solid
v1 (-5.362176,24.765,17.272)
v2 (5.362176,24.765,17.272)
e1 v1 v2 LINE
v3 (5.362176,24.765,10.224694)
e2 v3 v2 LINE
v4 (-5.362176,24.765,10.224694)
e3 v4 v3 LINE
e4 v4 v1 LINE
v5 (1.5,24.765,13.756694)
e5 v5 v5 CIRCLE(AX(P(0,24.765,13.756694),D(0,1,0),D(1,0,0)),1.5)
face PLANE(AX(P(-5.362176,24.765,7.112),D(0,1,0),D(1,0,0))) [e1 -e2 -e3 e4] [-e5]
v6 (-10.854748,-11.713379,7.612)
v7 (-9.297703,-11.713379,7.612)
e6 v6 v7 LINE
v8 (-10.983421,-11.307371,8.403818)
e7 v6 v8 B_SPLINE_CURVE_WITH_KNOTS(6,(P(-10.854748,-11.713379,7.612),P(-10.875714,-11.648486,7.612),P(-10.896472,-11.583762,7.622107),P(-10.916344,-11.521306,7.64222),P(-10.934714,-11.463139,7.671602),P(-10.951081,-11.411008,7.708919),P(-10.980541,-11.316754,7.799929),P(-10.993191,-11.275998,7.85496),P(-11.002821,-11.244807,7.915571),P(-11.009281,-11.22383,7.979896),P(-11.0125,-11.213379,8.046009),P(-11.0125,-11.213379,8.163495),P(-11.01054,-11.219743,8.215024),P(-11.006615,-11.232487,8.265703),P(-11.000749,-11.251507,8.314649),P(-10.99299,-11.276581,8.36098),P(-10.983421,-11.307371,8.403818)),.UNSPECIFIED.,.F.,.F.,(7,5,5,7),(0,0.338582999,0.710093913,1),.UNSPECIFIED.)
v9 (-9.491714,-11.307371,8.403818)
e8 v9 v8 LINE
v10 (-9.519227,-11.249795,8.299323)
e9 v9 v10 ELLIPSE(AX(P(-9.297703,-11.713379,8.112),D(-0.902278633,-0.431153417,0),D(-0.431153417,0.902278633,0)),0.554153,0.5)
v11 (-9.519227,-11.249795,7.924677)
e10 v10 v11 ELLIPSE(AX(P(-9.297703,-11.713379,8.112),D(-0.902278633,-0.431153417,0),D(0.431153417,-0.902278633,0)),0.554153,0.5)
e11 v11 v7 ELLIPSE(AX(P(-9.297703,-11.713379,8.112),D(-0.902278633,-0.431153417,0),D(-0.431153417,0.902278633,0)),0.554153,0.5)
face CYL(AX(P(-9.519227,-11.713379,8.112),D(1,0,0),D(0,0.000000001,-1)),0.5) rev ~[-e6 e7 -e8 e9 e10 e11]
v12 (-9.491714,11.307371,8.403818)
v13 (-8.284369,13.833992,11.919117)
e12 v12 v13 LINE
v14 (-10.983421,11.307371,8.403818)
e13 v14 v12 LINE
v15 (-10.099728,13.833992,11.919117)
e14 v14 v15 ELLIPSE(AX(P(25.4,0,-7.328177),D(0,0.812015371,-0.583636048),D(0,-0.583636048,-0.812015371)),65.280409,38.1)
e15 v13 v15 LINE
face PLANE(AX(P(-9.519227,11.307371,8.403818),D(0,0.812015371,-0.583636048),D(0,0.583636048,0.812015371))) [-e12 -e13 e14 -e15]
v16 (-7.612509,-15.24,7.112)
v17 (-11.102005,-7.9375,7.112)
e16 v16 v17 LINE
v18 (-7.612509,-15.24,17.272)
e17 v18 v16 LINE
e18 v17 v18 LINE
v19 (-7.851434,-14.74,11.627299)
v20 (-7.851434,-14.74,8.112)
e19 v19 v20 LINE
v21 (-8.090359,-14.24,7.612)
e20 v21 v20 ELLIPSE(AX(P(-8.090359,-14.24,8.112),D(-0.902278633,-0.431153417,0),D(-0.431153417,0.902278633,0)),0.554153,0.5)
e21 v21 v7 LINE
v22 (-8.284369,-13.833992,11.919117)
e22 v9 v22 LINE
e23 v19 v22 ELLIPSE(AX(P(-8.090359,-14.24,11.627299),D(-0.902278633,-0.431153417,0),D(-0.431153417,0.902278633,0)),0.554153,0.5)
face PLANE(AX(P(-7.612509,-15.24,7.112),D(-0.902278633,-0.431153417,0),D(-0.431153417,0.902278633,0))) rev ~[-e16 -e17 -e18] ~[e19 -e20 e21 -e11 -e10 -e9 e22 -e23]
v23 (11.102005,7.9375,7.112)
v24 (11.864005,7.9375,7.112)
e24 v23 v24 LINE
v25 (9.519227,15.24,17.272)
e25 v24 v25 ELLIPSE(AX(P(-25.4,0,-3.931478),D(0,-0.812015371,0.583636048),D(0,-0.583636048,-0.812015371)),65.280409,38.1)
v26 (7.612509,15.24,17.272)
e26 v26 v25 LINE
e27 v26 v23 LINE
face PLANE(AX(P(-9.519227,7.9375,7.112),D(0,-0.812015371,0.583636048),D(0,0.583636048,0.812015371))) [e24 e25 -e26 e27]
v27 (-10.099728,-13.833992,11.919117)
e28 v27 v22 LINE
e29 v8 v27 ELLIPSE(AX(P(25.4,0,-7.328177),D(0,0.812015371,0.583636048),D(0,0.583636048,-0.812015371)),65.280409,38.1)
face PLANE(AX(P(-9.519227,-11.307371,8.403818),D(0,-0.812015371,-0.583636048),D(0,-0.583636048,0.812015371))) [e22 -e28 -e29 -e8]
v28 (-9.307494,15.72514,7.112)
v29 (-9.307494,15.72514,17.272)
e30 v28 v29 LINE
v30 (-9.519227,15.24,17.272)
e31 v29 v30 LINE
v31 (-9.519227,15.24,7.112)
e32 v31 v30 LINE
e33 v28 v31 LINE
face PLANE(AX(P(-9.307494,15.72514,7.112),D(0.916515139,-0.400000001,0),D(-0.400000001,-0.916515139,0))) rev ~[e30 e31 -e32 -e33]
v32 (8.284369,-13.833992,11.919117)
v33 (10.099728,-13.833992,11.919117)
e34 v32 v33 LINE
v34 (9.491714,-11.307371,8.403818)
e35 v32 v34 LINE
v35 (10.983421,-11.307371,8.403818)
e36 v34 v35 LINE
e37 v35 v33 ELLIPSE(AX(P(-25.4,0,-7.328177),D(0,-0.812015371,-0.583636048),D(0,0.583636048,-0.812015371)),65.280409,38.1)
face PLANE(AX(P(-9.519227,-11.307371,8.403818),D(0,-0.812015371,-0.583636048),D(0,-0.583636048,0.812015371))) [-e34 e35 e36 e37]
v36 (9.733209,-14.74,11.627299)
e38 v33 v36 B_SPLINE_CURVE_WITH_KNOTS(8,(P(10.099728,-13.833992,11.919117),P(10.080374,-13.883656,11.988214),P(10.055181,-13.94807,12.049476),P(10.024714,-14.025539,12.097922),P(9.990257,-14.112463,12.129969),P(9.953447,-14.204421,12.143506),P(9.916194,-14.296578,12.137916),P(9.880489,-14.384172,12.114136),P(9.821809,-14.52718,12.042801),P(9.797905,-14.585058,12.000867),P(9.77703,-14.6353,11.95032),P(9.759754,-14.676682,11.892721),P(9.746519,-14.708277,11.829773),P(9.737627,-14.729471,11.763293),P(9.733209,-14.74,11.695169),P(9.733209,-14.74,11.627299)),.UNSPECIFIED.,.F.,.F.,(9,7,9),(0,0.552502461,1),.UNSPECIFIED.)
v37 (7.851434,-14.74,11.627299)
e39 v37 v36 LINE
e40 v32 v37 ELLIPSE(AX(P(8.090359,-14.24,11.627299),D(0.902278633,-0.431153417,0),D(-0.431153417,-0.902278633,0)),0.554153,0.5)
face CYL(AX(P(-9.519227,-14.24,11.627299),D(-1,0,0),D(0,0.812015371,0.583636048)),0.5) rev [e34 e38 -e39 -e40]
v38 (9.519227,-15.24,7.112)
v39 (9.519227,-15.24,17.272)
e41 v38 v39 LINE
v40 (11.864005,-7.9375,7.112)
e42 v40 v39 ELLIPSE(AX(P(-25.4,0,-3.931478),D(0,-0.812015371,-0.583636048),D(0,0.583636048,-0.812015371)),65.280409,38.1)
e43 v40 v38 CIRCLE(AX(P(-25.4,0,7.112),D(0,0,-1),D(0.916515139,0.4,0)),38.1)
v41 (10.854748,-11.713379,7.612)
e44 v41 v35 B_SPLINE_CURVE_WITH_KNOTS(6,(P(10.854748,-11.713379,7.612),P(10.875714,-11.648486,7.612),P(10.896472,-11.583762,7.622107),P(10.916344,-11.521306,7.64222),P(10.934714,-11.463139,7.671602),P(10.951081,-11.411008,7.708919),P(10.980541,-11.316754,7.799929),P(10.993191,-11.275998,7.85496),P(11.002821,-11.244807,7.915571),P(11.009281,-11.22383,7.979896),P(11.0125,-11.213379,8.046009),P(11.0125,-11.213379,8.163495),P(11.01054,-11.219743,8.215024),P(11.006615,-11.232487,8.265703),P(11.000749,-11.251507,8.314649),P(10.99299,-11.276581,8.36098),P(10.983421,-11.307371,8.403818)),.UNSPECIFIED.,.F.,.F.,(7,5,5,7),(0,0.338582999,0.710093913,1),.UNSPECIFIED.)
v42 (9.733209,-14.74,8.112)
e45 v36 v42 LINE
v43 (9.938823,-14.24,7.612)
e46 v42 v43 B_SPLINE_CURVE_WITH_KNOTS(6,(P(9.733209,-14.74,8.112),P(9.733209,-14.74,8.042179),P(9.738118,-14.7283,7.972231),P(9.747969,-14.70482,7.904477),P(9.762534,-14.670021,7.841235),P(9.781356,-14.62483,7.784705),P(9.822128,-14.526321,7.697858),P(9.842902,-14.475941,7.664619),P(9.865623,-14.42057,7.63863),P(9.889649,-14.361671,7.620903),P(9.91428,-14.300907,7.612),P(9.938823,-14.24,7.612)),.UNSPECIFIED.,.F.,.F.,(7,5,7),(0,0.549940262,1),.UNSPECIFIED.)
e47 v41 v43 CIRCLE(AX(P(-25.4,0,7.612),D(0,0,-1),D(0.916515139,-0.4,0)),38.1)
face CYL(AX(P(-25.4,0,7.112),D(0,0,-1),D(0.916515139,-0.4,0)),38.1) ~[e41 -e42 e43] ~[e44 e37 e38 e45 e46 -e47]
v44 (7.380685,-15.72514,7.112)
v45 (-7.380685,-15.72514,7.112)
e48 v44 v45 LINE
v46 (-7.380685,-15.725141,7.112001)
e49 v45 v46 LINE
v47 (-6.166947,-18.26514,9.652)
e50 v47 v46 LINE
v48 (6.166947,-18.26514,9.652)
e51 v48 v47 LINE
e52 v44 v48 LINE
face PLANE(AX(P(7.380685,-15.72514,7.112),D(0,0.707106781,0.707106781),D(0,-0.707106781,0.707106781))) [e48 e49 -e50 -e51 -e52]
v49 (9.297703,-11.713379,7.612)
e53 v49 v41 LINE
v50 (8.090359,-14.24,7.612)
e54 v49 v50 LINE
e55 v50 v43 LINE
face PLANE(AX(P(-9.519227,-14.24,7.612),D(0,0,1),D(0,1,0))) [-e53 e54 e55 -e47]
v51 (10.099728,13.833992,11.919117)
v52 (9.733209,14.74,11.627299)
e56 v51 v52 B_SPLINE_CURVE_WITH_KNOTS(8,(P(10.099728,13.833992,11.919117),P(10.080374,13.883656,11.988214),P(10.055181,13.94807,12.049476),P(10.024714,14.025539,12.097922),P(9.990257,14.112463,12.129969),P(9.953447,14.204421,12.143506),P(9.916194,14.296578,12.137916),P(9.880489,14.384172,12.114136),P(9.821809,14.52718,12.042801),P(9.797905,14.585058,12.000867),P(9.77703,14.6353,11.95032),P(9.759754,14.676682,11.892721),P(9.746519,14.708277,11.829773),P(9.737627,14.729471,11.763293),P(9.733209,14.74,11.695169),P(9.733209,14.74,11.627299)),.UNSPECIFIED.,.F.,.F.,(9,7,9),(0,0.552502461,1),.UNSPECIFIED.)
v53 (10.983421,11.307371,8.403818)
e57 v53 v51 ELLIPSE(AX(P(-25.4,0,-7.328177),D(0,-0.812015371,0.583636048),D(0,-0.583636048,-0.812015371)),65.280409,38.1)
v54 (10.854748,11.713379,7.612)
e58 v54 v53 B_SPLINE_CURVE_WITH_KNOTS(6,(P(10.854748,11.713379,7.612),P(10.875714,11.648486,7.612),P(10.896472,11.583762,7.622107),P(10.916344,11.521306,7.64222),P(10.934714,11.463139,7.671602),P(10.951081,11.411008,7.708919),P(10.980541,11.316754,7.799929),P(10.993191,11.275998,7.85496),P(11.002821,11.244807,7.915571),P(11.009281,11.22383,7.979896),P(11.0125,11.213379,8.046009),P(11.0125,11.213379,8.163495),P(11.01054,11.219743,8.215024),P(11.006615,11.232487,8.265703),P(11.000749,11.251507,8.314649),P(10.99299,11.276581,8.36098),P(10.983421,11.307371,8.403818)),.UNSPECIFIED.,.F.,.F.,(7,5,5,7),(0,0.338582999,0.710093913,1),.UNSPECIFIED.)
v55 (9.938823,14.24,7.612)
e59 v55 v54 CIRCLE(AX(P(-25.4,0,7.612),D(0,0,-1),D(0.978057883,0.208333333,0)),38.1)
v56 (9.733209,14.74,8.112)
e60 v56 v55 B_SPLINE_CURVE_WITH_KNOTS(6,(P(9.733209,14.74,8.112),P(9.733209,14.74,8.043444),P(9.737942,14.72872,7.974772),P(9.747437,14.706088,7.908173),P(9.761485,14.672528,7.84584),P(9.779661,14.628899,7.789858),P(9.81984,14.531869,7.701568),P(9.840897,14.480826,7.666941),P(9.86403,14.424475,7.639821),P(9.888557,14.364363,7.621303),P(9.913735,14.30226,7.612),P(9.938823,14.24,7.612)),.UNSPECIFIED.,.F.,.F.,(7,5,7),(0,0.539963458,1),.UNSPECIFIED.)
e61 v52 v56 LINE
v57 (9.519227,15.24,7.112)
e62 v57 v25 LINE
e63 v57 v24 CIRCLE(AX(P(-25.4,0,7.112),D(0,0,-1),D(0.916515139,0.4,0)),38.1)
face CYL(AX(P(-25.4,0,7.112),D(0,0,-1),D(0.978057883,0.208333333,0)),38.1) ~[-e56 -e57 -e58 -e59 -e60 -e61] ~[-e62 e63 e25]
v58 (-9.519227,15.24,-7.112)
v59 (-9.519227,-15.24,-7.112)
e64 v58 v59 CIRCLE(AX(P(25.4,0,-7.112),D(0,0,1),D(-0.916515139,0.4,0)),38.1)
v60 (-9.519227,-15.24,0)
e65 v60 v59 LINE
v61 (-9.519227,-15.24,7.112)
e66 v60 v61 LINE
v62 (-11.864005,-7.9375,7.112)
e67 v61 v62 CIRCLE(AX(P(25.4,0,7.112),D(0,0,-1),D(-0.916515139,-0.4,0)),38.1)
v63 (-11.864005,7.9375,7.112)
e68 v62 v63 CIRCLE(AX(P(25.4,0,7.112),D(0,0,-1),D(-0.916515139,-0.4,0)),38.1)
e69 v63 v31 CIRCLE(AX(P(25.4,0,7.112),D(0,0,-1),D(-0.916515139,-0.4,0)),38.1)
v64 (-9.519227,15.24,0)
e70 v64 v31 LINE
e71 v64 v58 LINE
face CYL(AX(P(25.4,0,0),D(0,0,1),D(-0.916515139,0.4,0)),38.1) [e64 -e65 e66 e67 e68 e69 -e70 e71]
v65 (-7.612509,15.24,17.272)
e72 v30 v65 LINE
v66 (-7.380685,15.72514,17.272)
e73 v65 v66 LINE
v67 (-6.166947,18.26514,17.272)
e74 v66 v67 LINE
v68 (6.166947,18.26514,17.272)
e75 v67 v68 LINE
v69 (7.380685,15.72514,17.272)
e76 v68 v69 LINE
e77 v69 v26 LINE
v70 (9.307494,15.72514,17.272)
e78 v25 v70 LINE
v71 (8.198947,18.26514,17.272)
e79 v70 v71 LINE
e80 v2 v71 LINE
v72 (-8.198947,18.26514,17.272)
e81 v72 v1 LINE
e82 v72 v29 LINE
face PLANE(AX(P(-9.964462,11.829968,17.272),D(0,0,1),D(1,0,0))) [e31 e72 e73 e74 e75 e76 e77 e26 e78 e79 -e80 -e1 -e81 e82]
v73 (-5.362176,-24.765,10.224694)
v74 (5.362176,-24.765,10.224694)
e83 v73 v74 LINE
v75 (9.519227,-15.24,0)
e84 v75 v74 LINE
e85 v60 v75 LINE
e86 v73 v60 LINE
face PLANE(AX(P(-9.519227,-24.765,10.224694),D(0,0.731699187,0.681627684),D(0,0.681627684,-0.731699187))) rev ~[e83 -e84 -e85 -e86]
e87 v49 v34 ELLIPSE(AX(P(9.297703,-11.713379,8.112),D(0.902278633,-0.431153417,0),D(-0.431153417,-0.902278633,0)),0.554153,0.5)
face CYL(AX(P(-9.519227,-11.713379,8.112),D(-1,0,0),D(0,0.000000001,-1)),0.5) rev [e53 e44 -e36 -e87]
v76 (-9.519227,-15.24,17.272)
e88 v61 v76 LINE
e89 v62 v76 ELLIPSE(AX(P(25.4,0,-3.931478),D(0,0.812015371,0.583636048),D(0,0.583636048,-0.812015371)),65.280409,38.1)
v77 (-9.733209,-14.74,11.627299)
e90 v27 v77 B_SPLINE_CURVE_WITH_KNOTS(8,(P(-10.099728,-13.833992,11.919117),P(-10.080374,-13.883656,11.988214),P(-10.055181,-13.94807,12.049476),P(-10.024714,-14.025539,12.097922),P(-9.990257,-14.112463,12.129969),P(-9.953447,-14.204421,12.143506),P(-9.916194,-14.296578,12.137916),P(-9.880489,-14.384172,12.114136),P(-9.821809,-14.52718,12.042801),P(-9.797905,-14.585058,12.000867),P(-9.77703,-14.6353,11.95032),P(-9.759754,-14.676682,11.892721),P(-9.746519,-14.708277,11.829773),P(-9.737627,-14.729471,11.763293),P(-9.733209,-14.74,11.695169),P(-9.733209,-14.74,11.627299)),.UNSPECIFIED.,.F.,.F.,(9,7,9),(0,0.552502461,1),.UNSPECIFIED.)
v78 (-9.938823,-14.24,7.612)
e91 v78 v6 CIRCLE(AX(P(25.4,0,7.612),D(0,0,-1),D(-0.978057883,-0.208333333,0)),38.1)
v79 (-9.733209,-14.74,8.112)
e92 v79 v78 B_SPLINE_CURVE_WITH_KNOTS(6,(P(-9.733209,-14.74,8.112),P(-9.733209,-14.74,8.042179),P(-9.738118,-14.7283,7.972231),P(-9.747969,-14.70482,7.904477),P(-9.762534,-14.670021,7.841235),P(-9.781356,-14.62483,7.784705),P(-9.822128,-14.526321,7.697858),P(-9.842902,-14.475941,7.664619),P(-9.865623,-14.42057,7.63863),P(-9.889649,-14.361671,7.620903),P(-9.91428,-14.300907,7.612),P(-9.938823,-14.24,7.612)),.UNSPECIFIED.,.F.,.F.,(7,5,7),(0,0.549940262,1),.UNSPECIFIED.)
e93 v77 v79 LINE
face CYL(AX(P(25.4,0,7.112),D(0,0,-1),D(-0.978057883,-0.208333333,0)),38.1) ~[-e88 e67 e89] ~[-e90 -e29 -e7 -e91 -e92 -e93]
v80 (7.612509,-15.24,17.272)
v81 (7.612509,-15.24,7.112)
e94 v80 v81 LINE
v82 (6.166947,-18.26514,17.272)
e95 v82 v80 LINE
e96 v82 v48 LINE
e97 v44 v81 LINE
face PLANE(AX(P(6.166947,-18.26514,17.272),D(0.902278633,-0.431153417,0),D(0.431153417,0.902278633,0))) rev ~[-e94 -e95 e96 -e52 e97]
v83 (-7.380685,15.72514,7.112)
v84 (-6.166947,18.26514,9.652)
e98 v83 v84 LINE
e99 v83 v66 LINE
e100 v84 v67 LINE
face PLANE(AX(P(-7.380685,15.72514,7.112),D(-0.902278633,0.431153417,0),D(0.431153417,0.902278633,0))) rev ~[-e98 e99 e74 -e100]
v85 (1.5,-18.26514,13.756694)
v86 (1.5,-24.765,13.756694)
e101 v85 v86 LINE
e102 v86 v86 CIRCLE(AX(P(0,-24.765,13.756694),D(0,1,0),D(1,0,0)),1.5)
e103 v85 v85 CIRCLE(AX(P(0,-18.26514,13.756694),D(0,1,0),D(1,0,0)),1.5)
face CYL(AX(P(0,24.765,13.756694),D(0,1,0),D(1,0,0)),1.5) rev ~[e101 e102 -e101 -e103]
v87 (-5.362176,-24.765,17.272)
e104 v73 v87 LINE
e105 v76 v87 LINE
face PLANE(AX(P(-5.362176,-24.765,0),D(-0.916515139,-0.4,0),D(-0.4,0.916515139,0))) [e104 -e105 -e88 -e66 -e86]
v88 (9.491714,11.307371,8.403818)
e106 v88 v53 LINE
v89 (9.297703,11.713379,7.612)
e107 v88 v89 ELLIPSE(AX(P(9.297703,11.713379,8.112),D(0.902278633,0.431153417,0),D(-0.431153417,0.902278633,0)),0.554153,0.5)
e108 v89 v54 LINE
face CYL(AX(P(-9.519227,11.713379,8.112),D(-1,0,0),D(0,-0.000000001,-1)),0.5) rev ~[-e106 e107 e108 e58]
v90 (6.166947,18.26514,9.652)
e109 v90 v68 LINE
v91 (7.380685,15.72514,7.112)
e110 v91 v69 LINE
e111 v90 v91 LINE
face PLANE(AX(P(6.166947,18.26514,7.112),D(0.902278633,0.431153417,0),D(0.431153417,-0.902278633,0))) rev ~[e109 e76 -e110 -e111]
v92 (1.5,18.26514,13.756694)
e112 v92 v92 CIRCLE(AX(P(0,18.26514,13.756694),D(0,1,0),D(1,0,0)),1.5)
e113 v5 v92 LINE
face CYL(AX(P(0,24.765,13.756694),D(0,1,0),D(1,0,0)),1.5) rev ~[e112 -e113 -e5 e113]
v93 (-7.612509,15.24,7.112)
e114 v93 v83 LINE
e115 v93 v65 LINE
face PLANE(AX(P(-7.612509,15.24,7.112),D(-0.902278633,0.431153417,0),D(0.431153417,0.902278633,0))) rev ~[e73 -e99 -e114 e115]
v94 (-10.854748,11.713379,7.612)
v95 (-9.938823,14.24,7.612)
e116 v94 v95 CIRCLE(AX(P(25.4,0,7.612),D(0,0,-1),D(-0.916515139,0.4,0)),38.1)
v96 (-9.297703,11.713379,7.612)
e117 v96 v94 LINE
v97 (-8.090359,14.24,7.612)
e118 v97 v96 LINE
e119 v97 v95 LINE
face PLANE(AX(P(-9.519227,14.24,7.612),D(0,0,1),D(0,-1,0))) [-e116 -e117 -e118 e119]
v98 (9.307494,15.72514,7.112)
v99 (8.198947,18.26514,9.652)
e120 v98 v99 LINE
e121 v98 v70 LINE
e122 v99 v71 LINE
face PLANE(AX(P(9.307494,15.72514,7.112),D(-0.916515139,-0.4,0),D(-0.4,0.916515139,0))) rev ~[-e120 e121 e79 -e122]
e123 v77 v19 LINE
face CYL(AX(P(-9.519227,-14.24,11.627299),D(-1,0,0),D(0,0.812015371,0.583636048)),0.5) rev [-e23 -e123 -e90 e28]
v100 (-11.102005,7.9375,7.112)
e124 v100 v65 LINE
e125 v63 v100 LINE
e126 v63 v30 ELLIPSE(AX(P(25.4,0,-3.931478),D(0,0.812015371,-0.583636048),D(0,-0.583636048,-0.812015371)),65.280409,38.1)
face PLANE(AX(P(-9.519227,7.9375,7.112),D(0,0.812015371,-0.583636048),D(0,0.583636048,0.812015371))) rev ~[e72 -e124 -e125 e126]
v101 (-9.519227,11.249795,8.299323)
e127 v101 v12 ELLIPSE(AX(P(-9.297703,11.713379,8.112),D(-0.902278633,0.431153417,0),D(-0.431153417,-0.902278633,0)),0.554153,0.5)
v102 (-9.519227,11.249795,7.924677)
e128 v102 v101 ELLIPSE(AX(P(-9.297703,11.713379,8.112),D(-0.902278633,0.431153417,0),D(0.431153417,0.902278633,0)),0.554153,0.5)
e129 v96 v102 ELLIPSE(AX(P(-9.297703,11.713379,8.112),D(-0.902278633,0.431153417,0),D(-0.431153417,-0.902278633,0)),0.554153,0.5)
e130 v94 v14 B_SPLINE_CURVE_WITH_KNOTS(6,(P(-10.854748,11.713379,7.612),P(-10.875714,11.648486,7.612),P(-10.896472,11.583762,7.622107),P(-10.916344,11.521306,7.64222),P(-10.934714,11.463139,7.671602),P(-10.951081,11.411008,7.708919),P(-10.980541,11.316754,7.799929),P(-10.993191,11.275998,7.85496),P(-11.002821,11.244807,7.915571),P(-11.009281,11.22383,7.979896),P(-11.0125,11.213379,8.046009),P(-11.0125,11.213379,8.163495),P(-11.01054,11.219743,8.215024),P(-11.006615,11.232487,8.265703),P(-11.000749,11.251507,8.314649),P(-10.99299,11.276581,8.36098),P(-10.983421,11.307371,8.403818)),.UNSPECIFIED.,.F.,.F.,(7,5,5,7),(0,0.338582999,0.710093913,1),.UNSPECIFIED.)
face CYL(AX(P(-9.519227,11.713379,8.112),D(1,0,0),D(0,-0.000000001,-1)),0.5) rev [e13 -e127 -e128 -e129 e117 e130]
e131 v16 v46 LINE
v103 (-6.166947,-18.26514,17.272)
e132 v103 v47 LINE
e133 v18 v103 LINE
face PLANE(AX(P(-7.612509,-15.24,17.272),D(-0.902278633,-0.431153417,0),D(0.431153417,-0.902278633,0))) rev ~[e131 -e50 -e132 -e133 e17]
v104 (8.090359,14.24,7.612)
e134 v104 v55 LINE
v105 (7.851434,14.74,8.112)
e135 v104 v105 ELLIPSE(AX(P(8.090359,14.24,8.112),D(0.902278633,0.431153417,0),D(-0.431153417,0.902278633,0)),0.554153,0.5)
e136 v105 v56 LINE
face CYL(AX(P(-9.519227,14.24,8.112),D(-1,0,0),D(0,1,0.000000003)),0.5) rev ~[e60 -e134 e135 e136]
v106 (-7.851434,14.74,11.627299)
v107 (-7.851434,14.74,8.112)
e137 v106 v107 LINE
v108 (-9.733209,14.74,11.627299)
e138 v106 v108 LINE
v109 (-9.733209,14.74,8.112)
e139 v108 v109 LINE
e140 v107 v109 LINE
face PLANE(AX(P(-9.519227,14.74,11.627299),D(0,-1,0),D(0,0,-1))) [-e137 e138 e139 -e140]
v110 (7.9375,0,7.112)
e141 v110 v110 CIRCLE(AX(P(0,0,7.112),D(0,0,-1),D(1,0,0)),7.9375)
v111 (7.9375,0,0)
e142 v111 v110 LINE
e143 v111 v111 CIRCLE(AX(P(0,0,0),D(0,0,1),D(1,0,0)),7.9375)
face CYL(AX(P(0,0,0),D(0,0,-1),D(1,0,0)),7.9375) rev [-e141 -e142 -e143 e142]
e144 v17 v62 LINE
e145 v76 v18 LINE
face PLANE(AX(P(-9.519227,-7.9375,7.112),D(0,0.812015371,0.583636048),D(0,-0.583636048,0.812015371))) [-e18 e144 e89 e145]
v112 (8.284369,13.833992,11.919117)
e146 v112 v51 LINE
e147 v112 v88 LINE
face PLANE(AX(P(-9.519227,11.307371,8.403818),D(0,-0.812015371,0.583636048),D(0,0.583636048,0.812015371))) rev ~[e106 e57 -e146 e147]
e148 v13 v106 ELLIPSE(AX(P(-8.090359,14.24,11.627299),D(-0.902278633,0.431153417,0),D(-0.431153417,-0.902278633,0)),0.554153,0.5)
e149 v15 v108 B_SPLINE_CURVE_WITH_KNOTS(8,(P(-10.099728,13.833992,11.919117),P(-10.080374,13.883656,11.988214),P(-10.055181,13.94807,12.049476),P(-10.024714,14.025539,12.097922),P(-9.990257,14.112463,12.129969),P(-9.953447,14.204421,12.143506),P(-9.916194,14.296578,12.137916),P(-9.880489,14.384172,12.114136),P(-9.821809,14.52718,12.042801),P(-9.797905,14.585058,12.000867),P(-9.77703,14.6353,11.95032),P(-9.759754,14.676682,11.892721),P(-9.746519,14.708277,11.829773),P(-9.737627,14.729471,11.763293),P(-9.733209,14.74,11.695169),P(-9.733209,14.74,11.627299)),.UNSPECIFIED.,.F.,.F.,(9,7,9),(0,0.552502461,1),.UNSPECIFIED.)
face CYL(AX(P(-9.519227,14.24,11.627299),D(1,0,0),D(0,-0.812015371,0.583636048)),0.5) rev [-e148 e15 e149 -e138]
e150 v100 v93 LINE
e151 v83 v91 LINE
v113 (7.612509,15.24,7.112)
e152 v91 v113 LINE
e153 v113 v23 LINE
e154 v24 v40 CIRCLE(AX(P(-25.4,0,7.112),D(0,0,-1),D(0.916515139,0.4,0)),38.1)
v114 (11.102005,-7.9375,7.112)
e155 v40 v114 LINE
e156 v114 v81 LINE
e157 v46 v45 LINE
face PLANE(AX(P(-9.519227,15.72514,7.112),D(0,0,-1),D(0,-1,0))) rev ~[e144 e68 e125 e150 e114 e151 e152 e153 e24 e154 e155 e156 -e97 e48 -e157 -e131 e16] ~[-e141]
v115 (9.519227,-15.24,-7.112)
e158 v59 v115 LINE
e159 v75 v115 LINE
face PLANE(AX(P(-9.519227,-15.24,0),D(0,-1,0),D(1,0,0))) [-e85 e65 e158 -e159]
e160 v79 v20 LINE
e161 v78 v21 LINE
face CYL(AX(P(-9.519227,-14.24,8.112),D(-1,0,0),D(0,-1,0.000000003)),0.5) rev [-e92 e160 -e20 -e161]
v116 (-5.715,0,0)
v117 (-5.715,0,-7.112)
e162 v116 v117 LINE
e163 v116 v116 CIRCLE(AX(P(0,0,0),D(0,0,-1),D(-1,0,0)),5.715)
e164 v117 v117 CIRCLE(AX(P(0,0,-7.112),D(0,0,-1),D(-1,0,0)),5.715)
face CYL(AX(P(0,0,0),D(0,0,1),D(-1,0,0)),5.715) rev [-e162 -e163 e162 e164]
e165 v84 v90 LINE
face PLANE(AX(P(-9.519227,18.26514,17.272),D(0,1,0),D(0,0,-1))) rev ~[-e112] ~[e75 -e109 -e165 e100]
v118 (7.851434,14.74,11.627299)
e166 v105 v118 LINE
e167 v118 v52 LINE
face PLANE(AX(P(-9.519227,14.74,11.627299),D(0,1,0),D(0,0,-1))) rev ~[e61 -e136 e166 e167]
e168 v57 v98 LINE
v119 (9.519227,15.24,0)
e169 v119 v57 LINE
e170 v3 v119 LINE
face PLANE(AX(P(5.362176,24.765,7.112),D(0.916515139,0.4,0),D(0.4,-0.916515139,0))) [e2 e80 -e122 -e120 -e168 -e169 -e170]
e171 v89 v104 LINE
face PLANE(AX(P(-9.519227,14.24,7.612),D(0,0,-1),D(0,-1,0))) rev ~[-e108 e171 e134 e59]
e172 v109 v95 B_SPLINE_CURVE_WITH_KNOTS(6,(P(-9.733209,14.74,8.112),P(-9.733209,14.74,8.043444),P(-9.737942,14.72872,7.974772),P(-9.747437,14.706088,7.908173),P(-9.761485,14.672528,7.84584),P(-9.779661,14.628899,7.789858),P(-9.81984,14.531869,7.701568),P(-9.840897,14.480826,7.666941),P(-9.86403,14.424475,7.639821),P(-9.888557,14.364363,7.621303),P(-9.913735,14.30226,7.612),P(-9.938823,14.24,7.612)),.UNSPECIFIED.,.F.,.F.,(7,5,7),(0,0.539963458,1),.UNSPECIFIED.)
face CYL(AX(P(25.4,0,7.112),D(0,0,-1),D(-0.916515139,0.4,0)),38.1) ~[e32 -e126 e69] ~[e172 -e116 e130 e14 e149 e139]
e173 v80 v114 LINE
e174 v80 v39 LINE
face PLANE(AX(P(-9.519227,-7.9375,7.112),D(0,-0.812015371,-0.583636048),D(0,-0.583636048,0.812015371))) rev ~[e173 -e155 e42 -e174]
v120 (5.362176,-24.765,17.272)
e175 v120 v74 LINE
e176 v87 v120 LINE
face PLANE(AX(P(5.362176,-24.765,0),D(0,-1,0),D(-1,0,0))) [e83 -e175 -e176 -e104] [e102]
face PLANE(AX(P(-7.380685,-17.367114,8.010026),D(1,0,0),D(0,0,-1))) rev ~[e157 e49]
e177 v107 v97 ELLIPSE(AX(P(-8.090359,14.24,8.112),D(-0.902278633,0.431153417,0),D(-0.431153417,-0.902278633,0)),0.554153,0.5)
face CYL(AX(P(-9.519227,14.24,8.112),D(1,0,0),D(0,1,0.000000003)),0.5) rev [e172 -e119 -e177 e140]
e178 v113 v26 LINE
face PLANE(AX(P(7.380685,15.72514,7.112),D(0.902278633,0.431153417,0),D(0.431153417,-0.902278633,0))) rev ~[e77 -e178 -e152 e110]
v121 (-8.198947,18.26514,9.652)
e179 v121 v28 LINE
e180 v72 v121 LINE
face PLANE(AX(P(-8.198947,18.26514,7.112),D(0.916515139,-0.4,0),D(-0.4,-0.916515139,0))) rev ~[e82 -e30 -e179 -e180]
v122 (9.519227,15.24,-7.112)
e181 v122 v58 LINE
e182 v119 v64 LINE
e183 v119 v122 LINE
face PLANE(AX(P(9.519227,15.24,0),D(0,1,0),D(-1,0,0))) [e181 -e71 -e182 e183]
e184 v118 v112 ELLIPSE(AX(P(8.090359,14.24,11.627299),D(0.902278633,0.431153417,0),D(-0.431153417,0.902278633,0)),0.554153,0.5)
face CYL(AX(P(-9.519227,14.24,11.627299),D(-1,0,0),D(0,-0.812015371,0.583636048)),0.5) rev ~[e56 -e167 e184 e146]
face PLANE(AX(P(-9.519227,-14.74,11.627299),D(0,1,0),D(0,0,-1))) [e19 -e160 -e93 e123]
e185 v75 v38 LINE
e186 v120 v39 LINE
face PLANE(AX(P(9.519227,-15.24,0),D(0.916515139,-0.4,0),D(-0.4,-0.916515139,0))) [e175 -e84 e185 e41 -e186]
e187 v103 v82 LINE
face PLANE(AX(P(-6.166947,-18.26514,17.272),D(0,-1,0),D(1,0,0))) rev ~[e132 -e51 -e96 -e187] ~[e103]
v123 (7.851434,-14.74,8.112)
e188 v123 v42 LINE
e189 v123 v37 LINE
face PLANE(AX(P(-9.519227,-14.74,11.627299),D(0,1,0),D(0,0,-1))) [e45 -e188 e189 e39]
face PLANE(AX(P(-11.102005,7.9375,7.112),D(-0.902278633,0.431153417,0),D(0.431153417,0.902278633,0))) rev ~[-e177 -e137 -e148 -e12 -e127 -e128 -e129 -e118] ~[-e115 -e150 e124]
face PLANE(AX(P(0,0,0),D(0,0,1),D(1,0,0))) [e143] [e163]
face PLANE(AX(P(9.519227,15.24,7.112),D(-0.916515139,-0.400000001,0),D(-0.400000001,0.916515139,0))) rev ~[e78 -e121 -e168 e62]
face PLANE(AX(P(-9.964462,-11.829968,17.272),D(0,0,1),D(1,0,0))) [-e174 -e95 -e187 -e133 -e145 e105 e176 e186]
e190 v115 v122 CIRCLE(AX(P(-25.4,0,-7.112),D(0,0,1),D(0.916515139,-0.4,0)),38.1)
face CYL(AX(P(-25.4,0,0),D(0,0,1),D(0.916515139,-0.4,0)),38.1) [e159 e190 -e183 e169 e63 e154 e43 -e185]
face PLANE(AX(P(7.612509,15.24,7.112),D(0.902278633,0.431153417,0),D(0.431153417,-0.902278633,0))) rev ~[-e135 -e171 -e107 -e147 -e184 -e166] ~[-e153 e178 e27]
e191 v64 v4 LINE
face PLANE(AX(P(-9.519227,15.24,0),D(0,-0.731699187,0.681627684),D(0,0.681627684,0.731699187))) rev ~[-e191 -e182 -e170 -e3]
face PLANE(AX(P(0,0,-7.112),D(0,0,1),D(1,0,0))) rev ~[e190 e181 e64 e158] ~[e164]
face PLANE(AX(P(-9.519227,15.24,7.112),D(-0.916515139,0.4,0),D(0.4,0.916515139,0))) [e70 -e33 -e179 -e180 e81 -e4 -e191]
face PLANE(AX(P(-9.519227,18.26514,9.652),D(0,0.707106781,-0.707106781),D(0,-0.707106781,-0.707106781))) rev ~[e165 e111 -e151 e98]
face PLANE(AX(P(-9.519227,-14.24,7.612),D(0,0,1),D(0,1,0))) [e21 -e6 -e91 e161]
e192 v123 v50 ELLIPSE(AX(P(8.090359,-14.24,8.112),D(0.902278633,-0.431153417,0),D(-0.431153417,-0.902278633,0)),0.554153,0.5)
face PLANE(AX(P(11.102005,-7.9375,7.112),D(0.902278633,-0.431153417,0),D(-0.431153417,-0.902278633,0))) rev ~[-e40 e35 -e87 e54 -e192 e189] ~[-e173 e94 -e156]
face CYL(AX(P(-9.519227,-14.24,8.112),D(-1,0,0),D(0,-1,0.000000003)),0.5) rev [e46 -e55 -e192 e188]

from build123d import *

# Parameters (mm, degrees)
SKETCH1_R               = 7.9375
BOSS_EXTRUDE1_DEPTH     = 7.112
SKETCH2_R               = 5.715
BOSS_EXTRUDE2_DEPTH     = 7.112
BOSS_EXTRUDE3_DEPTH     = 10.16
SKETCH4_R               = 1.5
CUT_EXTRUDE1_DEPTH      = 50.53
CUT_EXTRUDE2_DEPTH      = 23.219226796
BOSS_EXTRUDE5_DEPTH     = 10.16
CUT_EXTRUDE3_DEPTH      = 4.180773204
CUT_EXTRUDE3_DEPTH_BACK = 23.219226796
CUT_EXTRUDE5_DEPTH      = 23.219226896
CUT_EXTRUDE6_DEPTH      = 10.16
BOSS_EXTRUDE6_DEPTH     = 10.16
CUT_EXTRUDE7_DEPTH      = 4.180773304
CUT_EXTRUDE7_DEPTH_BACK = 23.219226896
BOSS_EXTRUDE7_START     = -16.899912
BOSS_EXTRUDE7_DEPTH     = 14.76137


with BuildPart() as part:
    # Sketch1 → Boss-Extrude1 (new body)
    with BuildSketch(Plane.XY):
        with BuildLine():
            ThreePointArc((9.519226796, 15.24), (12.7, 0), (9.519226796, -15.24))
            Line((9.519226796, -15.24), (-9.519226796, -15.24))
            ThreePointArc((-9.519226796, -15.24), (-12.7, 0), (-9.519226796, 15.24))
            Line((-9.519226796, 15.24), (9.519226796, 15.24))
        make_face()
        Circle(SKETCH1_R, mode=Mode.SUBTRACT)
        Polygon((5.362175987, 24.765), (9.519226796, 15.24), (-9.519226796, 15.24), (-5.362175987, 24.765), align=None)
        Polygon((-9.519226796, -15.24), (9.519226796, -15.24), (5.362175987, -24.765), (-5.362175987, -24.765), align=None)
    extrude(amount=BOSS_EXTRUDE1_DEPTH)

    # Sketch2 → Boss-Extrude2 (add)
    with BuildSketch(Plane(origin=(0, 0, 0), x_dir=(-1, 0, 0), z_dir=(0, 0, -1))):
        with BuildLine():
            Line((9.519226796, -15.24), (-9.519226796, -15.24))
            ThreePointArc((-9.519226796, -15.24), (-12.7, 0), (-9.519226796, 15.24))
            Line((-9.519226796, 15.24), (9.519226796, 15.24))
            ThreePointArc((9.519226796, 15.24), (12.7, 0), (9.519226796, -15.24))
        make_face()
        Circle(SKETCH2_R, mode=Mode.SUBTRACT)
    extrude(amount=BOSS_EXTRUDE2_DEPTH)

    # Sketch3 → Boss-Extrude3 (add)
    with BuildSketch(Plane.XY.offset(7.112)):
        Polygon((5.362175987, 24.765), (9.519226796, 15.24), (-9.519226796, 15.24), (-5.362175987, 24.765), align=None)
        Polygon((5.362175987, -24.765), (9.519226796, -15.24), (-9.519226796, -15.24), (-5.362175987, -24.765), align=None)
    extrude(amount=BOSS_EXTRUDE3_DEPTH)

    # Sketch4 → Cut-Extrude1 (cut, through all)
    with BuildSketch(Plane(origin=(0, 24.765, 0), x_dir=(1, 0, 0), z_dir=(0, 1, 0))):
        with Locations((0, -13.756694386)):
            Circle(SKETCH4_R)
    extrude(amount=-CUT_EXTRUDE1_DEPTH, mode=Mode.SUBTRACT)

    # Sketch5 → Cut-Extrude2 (cut, through all)
    with BuildSketch(Plane.ZY.offset(9.519226796)):
        Polygon((0, 15.24), (10.224694386, 24.765), (0, 24.765), align=None)
        Polygon((17.272, 15.24), (17.272, 18.26514), (9.652, 18.26514), (7.112, 15.72514), (7.112, 15.24), align=None)
    extrude(amount=-CUT_EXTRUDE2_DEPTH, mode=Mode.SUBTRACT)

    # Sketch6 → Boss-Extrude5 (add)
    with BuildSketch(Plane.XY.offset(7.112)):
        with BuildLine():
            Line((-7.612509174, 15.24), (-9.519226796, 15.24))
            ThreePointArc((-9.519226796, 15.24), (-10.875837369, 11.647902093), (-11.864005337, 7.9375))
            Line((-11.864005337, 7.9375), (-11.102005337, 7.9375))
            Line((-11.102005337, 7.9375), (-7.612509174, 15.24))
        make_face()
        Polygon((-9.307494341, 15.72514), (-9.519226796, 15.24), (-7.612509174, 15.24), (-7.380685255, 15.72514), align=None)
        Polygon((-8.198947459, 18.26514), (-9.307494341, 15.72514), (-7.380685255, 15.72514), (-6.166947459, 18.26514), align=None)
        Polygon((8.198947459, 18.26514), (6.166947459, 18.26514), (7.380685255, 15.72514), (9.307494341, 15.72514), align=None)
        Polygon((7.380685255, 15.72514), (7.612509174, 15.24), (9.519226796, 15.24), (9.307494341, 15.72514), align=None)
        with BuildLine():
            Line((9.519226796, 15.24), (7.612509174, 15.24))
            Line((7.612509174, 15.24), (11.102005337, 7.9375))
            Line((11.102005337, 7.9375), (11.864005337, 7.9375))
            ThreePointArc((11.864005337, 7.9375), (10.875837369, 11.647902093), (9.519226796, 15.24))
        make_face()
    extrude(amount=BOSS_EXTRUDE5_DEPTH)

    # Sketch7 → Cut-Extrude3 (cut, two sides)
    with BuildSketch(Plane.ZY.offset(9.519226796)) as cut_extrude3_sk:
        Polygon((7.112, 7.9375), (17.272, 15.24), (17.272, 7.9375), align=None)
        with BuildLine():
            Line((8.403818024, 11.307371095), (11.919117111, 13.833992314))
            ThreePointArc((11.919117111, 13.833992314), (12.103221267, 14.39329083), (11.627299087, 14.74))
            Line((11.627299087, 14.74), (8.112, 14.74))
            ThreePointArc((8.112, 14.74), (7.758446609, 14.593553391), (7.612, 14.24))
            Line((7.612, 14.24), (7.612, 11.713378781))
            ThreePointArc((7.612, 11.713378781), (7.883865185, 11.268457995), (8.403818024, 11.307371095))
        make_face()
    extrude(amount=CUT_EXTRUDE3_DEPTH, mode=Mode.SUBTRACT)
    extrude(cut_extrude3_sk.sketch, amount=-CUT_EXTRUDE3_DEPTH_BACK, mode=Mode.SUBTRACT)

    # Sketch9 → Cut-Extrude5 (cut, through all)
    with BuildSketch(Plane.ZY.offset(9.519226796)):
        Polygon((0, -24.765), (10.224694386, -24.765), (0, -15.24), align=None)
    extrude(amount=-CUT_EXTRUDE5_DEPTH, mode=Mode.SUBTRACT)

    # Sketch8 → Cut-Extrude6 (cut)
    with BuildSketch(Plane.XY.offset(17.272)):
        Polygon((7.612509174, -15.24), (-7.612509174, -15.24), (-6.166947459, -18.26514), (6.166947459, -18.26514), align=None)
    extrude(amount=-CUT_EXTRUDE6_DEPTH, mode=Mode.SUBTRACT)

    # Sketch10 → Boss-Extrude6 (add)
    with BuildSketch(Plane.XY.offset(7.112)):
        with BuildLine():
            Line((-9.519226796, -15.24), (-7.612509174, -15.24))
            Line((-7.612509174, -15.24), (-11.102005337, -7.9375))
            Line((-11.102005337, -7.9375), (-11.864005337, -7.9375))
            ThreePointArc((-11.864005337, -7.9375), (-10.875837369, -11.647902093), (-9.519226796, -15.24))
        make_face()
        with BuildLine():
            Line((7.612509174, -15.24), (9.519226796, -15.24))
            ThreePointArc((9.519226796, -15.24), (10.875837369, -11.647902093), (11.864005337, -7.9375))
            Line((11.864005337, -7.9375), (11.102005337, -7.9375))
            Line((11.102005337, -7.9375), (7.612509174, -15.24))
        make_face()
    extrude(amount=BOSS_EXTRUDE6_DEPTH)

    # Sketch11 → Cut-Extrude7 (cut, two sides)
    with BuildSketch(Plane.ZY.offset(9.519226796)) as cut_extrude7_sk:
        Polygon((17.272, -15.24), (17.272, -7.9375), (7.112, -7.9375), align=None)
        with BuildLine():
            ThreePointArc((8.112, -14.74), (7.758446609, -14.593553391), (7.612, -14.24))
            Line((7.612, -14.24), (7.612, -11.713378781))
            ThreePointArc((7.612, -11.713378781), (7.883865185, -11.268457995), (8.403818024, -11.307371095))
            Line((8.403818024, -11.307371095), (11.919117111, -13.833992314))
            ThreePointArc((11.919117111, -13.833992314), (12.103221267, -14.39329083), (11.627299087, -14.74))
            Line((11.627299087, -14.74), (8.112, -14.74))
        make_face()
    extrude(amount=CUT_EXTRUDE7_DEPTH, mode=Mode.SUBTRACT)
    extrude(cut_extrude7_sk.sketch, amount=-CUT_EXTRUDE7_DEPTH_BACK, mode=Mode.SUBTRACT)

    # Sketch12 → Boss-Extrude7 (add)
    with BuildSketch(Plane.ZY.offset(9.519226796).offset(BOSS_EXTRUDE7_START)):
        Polygon((7.112, -18.26514), (7.112, -15.72514), (9.652, -18.26514), align=None)
    extrude(amount=BOSS_EXTRUDE7_DEPTH)


solid = part.part
